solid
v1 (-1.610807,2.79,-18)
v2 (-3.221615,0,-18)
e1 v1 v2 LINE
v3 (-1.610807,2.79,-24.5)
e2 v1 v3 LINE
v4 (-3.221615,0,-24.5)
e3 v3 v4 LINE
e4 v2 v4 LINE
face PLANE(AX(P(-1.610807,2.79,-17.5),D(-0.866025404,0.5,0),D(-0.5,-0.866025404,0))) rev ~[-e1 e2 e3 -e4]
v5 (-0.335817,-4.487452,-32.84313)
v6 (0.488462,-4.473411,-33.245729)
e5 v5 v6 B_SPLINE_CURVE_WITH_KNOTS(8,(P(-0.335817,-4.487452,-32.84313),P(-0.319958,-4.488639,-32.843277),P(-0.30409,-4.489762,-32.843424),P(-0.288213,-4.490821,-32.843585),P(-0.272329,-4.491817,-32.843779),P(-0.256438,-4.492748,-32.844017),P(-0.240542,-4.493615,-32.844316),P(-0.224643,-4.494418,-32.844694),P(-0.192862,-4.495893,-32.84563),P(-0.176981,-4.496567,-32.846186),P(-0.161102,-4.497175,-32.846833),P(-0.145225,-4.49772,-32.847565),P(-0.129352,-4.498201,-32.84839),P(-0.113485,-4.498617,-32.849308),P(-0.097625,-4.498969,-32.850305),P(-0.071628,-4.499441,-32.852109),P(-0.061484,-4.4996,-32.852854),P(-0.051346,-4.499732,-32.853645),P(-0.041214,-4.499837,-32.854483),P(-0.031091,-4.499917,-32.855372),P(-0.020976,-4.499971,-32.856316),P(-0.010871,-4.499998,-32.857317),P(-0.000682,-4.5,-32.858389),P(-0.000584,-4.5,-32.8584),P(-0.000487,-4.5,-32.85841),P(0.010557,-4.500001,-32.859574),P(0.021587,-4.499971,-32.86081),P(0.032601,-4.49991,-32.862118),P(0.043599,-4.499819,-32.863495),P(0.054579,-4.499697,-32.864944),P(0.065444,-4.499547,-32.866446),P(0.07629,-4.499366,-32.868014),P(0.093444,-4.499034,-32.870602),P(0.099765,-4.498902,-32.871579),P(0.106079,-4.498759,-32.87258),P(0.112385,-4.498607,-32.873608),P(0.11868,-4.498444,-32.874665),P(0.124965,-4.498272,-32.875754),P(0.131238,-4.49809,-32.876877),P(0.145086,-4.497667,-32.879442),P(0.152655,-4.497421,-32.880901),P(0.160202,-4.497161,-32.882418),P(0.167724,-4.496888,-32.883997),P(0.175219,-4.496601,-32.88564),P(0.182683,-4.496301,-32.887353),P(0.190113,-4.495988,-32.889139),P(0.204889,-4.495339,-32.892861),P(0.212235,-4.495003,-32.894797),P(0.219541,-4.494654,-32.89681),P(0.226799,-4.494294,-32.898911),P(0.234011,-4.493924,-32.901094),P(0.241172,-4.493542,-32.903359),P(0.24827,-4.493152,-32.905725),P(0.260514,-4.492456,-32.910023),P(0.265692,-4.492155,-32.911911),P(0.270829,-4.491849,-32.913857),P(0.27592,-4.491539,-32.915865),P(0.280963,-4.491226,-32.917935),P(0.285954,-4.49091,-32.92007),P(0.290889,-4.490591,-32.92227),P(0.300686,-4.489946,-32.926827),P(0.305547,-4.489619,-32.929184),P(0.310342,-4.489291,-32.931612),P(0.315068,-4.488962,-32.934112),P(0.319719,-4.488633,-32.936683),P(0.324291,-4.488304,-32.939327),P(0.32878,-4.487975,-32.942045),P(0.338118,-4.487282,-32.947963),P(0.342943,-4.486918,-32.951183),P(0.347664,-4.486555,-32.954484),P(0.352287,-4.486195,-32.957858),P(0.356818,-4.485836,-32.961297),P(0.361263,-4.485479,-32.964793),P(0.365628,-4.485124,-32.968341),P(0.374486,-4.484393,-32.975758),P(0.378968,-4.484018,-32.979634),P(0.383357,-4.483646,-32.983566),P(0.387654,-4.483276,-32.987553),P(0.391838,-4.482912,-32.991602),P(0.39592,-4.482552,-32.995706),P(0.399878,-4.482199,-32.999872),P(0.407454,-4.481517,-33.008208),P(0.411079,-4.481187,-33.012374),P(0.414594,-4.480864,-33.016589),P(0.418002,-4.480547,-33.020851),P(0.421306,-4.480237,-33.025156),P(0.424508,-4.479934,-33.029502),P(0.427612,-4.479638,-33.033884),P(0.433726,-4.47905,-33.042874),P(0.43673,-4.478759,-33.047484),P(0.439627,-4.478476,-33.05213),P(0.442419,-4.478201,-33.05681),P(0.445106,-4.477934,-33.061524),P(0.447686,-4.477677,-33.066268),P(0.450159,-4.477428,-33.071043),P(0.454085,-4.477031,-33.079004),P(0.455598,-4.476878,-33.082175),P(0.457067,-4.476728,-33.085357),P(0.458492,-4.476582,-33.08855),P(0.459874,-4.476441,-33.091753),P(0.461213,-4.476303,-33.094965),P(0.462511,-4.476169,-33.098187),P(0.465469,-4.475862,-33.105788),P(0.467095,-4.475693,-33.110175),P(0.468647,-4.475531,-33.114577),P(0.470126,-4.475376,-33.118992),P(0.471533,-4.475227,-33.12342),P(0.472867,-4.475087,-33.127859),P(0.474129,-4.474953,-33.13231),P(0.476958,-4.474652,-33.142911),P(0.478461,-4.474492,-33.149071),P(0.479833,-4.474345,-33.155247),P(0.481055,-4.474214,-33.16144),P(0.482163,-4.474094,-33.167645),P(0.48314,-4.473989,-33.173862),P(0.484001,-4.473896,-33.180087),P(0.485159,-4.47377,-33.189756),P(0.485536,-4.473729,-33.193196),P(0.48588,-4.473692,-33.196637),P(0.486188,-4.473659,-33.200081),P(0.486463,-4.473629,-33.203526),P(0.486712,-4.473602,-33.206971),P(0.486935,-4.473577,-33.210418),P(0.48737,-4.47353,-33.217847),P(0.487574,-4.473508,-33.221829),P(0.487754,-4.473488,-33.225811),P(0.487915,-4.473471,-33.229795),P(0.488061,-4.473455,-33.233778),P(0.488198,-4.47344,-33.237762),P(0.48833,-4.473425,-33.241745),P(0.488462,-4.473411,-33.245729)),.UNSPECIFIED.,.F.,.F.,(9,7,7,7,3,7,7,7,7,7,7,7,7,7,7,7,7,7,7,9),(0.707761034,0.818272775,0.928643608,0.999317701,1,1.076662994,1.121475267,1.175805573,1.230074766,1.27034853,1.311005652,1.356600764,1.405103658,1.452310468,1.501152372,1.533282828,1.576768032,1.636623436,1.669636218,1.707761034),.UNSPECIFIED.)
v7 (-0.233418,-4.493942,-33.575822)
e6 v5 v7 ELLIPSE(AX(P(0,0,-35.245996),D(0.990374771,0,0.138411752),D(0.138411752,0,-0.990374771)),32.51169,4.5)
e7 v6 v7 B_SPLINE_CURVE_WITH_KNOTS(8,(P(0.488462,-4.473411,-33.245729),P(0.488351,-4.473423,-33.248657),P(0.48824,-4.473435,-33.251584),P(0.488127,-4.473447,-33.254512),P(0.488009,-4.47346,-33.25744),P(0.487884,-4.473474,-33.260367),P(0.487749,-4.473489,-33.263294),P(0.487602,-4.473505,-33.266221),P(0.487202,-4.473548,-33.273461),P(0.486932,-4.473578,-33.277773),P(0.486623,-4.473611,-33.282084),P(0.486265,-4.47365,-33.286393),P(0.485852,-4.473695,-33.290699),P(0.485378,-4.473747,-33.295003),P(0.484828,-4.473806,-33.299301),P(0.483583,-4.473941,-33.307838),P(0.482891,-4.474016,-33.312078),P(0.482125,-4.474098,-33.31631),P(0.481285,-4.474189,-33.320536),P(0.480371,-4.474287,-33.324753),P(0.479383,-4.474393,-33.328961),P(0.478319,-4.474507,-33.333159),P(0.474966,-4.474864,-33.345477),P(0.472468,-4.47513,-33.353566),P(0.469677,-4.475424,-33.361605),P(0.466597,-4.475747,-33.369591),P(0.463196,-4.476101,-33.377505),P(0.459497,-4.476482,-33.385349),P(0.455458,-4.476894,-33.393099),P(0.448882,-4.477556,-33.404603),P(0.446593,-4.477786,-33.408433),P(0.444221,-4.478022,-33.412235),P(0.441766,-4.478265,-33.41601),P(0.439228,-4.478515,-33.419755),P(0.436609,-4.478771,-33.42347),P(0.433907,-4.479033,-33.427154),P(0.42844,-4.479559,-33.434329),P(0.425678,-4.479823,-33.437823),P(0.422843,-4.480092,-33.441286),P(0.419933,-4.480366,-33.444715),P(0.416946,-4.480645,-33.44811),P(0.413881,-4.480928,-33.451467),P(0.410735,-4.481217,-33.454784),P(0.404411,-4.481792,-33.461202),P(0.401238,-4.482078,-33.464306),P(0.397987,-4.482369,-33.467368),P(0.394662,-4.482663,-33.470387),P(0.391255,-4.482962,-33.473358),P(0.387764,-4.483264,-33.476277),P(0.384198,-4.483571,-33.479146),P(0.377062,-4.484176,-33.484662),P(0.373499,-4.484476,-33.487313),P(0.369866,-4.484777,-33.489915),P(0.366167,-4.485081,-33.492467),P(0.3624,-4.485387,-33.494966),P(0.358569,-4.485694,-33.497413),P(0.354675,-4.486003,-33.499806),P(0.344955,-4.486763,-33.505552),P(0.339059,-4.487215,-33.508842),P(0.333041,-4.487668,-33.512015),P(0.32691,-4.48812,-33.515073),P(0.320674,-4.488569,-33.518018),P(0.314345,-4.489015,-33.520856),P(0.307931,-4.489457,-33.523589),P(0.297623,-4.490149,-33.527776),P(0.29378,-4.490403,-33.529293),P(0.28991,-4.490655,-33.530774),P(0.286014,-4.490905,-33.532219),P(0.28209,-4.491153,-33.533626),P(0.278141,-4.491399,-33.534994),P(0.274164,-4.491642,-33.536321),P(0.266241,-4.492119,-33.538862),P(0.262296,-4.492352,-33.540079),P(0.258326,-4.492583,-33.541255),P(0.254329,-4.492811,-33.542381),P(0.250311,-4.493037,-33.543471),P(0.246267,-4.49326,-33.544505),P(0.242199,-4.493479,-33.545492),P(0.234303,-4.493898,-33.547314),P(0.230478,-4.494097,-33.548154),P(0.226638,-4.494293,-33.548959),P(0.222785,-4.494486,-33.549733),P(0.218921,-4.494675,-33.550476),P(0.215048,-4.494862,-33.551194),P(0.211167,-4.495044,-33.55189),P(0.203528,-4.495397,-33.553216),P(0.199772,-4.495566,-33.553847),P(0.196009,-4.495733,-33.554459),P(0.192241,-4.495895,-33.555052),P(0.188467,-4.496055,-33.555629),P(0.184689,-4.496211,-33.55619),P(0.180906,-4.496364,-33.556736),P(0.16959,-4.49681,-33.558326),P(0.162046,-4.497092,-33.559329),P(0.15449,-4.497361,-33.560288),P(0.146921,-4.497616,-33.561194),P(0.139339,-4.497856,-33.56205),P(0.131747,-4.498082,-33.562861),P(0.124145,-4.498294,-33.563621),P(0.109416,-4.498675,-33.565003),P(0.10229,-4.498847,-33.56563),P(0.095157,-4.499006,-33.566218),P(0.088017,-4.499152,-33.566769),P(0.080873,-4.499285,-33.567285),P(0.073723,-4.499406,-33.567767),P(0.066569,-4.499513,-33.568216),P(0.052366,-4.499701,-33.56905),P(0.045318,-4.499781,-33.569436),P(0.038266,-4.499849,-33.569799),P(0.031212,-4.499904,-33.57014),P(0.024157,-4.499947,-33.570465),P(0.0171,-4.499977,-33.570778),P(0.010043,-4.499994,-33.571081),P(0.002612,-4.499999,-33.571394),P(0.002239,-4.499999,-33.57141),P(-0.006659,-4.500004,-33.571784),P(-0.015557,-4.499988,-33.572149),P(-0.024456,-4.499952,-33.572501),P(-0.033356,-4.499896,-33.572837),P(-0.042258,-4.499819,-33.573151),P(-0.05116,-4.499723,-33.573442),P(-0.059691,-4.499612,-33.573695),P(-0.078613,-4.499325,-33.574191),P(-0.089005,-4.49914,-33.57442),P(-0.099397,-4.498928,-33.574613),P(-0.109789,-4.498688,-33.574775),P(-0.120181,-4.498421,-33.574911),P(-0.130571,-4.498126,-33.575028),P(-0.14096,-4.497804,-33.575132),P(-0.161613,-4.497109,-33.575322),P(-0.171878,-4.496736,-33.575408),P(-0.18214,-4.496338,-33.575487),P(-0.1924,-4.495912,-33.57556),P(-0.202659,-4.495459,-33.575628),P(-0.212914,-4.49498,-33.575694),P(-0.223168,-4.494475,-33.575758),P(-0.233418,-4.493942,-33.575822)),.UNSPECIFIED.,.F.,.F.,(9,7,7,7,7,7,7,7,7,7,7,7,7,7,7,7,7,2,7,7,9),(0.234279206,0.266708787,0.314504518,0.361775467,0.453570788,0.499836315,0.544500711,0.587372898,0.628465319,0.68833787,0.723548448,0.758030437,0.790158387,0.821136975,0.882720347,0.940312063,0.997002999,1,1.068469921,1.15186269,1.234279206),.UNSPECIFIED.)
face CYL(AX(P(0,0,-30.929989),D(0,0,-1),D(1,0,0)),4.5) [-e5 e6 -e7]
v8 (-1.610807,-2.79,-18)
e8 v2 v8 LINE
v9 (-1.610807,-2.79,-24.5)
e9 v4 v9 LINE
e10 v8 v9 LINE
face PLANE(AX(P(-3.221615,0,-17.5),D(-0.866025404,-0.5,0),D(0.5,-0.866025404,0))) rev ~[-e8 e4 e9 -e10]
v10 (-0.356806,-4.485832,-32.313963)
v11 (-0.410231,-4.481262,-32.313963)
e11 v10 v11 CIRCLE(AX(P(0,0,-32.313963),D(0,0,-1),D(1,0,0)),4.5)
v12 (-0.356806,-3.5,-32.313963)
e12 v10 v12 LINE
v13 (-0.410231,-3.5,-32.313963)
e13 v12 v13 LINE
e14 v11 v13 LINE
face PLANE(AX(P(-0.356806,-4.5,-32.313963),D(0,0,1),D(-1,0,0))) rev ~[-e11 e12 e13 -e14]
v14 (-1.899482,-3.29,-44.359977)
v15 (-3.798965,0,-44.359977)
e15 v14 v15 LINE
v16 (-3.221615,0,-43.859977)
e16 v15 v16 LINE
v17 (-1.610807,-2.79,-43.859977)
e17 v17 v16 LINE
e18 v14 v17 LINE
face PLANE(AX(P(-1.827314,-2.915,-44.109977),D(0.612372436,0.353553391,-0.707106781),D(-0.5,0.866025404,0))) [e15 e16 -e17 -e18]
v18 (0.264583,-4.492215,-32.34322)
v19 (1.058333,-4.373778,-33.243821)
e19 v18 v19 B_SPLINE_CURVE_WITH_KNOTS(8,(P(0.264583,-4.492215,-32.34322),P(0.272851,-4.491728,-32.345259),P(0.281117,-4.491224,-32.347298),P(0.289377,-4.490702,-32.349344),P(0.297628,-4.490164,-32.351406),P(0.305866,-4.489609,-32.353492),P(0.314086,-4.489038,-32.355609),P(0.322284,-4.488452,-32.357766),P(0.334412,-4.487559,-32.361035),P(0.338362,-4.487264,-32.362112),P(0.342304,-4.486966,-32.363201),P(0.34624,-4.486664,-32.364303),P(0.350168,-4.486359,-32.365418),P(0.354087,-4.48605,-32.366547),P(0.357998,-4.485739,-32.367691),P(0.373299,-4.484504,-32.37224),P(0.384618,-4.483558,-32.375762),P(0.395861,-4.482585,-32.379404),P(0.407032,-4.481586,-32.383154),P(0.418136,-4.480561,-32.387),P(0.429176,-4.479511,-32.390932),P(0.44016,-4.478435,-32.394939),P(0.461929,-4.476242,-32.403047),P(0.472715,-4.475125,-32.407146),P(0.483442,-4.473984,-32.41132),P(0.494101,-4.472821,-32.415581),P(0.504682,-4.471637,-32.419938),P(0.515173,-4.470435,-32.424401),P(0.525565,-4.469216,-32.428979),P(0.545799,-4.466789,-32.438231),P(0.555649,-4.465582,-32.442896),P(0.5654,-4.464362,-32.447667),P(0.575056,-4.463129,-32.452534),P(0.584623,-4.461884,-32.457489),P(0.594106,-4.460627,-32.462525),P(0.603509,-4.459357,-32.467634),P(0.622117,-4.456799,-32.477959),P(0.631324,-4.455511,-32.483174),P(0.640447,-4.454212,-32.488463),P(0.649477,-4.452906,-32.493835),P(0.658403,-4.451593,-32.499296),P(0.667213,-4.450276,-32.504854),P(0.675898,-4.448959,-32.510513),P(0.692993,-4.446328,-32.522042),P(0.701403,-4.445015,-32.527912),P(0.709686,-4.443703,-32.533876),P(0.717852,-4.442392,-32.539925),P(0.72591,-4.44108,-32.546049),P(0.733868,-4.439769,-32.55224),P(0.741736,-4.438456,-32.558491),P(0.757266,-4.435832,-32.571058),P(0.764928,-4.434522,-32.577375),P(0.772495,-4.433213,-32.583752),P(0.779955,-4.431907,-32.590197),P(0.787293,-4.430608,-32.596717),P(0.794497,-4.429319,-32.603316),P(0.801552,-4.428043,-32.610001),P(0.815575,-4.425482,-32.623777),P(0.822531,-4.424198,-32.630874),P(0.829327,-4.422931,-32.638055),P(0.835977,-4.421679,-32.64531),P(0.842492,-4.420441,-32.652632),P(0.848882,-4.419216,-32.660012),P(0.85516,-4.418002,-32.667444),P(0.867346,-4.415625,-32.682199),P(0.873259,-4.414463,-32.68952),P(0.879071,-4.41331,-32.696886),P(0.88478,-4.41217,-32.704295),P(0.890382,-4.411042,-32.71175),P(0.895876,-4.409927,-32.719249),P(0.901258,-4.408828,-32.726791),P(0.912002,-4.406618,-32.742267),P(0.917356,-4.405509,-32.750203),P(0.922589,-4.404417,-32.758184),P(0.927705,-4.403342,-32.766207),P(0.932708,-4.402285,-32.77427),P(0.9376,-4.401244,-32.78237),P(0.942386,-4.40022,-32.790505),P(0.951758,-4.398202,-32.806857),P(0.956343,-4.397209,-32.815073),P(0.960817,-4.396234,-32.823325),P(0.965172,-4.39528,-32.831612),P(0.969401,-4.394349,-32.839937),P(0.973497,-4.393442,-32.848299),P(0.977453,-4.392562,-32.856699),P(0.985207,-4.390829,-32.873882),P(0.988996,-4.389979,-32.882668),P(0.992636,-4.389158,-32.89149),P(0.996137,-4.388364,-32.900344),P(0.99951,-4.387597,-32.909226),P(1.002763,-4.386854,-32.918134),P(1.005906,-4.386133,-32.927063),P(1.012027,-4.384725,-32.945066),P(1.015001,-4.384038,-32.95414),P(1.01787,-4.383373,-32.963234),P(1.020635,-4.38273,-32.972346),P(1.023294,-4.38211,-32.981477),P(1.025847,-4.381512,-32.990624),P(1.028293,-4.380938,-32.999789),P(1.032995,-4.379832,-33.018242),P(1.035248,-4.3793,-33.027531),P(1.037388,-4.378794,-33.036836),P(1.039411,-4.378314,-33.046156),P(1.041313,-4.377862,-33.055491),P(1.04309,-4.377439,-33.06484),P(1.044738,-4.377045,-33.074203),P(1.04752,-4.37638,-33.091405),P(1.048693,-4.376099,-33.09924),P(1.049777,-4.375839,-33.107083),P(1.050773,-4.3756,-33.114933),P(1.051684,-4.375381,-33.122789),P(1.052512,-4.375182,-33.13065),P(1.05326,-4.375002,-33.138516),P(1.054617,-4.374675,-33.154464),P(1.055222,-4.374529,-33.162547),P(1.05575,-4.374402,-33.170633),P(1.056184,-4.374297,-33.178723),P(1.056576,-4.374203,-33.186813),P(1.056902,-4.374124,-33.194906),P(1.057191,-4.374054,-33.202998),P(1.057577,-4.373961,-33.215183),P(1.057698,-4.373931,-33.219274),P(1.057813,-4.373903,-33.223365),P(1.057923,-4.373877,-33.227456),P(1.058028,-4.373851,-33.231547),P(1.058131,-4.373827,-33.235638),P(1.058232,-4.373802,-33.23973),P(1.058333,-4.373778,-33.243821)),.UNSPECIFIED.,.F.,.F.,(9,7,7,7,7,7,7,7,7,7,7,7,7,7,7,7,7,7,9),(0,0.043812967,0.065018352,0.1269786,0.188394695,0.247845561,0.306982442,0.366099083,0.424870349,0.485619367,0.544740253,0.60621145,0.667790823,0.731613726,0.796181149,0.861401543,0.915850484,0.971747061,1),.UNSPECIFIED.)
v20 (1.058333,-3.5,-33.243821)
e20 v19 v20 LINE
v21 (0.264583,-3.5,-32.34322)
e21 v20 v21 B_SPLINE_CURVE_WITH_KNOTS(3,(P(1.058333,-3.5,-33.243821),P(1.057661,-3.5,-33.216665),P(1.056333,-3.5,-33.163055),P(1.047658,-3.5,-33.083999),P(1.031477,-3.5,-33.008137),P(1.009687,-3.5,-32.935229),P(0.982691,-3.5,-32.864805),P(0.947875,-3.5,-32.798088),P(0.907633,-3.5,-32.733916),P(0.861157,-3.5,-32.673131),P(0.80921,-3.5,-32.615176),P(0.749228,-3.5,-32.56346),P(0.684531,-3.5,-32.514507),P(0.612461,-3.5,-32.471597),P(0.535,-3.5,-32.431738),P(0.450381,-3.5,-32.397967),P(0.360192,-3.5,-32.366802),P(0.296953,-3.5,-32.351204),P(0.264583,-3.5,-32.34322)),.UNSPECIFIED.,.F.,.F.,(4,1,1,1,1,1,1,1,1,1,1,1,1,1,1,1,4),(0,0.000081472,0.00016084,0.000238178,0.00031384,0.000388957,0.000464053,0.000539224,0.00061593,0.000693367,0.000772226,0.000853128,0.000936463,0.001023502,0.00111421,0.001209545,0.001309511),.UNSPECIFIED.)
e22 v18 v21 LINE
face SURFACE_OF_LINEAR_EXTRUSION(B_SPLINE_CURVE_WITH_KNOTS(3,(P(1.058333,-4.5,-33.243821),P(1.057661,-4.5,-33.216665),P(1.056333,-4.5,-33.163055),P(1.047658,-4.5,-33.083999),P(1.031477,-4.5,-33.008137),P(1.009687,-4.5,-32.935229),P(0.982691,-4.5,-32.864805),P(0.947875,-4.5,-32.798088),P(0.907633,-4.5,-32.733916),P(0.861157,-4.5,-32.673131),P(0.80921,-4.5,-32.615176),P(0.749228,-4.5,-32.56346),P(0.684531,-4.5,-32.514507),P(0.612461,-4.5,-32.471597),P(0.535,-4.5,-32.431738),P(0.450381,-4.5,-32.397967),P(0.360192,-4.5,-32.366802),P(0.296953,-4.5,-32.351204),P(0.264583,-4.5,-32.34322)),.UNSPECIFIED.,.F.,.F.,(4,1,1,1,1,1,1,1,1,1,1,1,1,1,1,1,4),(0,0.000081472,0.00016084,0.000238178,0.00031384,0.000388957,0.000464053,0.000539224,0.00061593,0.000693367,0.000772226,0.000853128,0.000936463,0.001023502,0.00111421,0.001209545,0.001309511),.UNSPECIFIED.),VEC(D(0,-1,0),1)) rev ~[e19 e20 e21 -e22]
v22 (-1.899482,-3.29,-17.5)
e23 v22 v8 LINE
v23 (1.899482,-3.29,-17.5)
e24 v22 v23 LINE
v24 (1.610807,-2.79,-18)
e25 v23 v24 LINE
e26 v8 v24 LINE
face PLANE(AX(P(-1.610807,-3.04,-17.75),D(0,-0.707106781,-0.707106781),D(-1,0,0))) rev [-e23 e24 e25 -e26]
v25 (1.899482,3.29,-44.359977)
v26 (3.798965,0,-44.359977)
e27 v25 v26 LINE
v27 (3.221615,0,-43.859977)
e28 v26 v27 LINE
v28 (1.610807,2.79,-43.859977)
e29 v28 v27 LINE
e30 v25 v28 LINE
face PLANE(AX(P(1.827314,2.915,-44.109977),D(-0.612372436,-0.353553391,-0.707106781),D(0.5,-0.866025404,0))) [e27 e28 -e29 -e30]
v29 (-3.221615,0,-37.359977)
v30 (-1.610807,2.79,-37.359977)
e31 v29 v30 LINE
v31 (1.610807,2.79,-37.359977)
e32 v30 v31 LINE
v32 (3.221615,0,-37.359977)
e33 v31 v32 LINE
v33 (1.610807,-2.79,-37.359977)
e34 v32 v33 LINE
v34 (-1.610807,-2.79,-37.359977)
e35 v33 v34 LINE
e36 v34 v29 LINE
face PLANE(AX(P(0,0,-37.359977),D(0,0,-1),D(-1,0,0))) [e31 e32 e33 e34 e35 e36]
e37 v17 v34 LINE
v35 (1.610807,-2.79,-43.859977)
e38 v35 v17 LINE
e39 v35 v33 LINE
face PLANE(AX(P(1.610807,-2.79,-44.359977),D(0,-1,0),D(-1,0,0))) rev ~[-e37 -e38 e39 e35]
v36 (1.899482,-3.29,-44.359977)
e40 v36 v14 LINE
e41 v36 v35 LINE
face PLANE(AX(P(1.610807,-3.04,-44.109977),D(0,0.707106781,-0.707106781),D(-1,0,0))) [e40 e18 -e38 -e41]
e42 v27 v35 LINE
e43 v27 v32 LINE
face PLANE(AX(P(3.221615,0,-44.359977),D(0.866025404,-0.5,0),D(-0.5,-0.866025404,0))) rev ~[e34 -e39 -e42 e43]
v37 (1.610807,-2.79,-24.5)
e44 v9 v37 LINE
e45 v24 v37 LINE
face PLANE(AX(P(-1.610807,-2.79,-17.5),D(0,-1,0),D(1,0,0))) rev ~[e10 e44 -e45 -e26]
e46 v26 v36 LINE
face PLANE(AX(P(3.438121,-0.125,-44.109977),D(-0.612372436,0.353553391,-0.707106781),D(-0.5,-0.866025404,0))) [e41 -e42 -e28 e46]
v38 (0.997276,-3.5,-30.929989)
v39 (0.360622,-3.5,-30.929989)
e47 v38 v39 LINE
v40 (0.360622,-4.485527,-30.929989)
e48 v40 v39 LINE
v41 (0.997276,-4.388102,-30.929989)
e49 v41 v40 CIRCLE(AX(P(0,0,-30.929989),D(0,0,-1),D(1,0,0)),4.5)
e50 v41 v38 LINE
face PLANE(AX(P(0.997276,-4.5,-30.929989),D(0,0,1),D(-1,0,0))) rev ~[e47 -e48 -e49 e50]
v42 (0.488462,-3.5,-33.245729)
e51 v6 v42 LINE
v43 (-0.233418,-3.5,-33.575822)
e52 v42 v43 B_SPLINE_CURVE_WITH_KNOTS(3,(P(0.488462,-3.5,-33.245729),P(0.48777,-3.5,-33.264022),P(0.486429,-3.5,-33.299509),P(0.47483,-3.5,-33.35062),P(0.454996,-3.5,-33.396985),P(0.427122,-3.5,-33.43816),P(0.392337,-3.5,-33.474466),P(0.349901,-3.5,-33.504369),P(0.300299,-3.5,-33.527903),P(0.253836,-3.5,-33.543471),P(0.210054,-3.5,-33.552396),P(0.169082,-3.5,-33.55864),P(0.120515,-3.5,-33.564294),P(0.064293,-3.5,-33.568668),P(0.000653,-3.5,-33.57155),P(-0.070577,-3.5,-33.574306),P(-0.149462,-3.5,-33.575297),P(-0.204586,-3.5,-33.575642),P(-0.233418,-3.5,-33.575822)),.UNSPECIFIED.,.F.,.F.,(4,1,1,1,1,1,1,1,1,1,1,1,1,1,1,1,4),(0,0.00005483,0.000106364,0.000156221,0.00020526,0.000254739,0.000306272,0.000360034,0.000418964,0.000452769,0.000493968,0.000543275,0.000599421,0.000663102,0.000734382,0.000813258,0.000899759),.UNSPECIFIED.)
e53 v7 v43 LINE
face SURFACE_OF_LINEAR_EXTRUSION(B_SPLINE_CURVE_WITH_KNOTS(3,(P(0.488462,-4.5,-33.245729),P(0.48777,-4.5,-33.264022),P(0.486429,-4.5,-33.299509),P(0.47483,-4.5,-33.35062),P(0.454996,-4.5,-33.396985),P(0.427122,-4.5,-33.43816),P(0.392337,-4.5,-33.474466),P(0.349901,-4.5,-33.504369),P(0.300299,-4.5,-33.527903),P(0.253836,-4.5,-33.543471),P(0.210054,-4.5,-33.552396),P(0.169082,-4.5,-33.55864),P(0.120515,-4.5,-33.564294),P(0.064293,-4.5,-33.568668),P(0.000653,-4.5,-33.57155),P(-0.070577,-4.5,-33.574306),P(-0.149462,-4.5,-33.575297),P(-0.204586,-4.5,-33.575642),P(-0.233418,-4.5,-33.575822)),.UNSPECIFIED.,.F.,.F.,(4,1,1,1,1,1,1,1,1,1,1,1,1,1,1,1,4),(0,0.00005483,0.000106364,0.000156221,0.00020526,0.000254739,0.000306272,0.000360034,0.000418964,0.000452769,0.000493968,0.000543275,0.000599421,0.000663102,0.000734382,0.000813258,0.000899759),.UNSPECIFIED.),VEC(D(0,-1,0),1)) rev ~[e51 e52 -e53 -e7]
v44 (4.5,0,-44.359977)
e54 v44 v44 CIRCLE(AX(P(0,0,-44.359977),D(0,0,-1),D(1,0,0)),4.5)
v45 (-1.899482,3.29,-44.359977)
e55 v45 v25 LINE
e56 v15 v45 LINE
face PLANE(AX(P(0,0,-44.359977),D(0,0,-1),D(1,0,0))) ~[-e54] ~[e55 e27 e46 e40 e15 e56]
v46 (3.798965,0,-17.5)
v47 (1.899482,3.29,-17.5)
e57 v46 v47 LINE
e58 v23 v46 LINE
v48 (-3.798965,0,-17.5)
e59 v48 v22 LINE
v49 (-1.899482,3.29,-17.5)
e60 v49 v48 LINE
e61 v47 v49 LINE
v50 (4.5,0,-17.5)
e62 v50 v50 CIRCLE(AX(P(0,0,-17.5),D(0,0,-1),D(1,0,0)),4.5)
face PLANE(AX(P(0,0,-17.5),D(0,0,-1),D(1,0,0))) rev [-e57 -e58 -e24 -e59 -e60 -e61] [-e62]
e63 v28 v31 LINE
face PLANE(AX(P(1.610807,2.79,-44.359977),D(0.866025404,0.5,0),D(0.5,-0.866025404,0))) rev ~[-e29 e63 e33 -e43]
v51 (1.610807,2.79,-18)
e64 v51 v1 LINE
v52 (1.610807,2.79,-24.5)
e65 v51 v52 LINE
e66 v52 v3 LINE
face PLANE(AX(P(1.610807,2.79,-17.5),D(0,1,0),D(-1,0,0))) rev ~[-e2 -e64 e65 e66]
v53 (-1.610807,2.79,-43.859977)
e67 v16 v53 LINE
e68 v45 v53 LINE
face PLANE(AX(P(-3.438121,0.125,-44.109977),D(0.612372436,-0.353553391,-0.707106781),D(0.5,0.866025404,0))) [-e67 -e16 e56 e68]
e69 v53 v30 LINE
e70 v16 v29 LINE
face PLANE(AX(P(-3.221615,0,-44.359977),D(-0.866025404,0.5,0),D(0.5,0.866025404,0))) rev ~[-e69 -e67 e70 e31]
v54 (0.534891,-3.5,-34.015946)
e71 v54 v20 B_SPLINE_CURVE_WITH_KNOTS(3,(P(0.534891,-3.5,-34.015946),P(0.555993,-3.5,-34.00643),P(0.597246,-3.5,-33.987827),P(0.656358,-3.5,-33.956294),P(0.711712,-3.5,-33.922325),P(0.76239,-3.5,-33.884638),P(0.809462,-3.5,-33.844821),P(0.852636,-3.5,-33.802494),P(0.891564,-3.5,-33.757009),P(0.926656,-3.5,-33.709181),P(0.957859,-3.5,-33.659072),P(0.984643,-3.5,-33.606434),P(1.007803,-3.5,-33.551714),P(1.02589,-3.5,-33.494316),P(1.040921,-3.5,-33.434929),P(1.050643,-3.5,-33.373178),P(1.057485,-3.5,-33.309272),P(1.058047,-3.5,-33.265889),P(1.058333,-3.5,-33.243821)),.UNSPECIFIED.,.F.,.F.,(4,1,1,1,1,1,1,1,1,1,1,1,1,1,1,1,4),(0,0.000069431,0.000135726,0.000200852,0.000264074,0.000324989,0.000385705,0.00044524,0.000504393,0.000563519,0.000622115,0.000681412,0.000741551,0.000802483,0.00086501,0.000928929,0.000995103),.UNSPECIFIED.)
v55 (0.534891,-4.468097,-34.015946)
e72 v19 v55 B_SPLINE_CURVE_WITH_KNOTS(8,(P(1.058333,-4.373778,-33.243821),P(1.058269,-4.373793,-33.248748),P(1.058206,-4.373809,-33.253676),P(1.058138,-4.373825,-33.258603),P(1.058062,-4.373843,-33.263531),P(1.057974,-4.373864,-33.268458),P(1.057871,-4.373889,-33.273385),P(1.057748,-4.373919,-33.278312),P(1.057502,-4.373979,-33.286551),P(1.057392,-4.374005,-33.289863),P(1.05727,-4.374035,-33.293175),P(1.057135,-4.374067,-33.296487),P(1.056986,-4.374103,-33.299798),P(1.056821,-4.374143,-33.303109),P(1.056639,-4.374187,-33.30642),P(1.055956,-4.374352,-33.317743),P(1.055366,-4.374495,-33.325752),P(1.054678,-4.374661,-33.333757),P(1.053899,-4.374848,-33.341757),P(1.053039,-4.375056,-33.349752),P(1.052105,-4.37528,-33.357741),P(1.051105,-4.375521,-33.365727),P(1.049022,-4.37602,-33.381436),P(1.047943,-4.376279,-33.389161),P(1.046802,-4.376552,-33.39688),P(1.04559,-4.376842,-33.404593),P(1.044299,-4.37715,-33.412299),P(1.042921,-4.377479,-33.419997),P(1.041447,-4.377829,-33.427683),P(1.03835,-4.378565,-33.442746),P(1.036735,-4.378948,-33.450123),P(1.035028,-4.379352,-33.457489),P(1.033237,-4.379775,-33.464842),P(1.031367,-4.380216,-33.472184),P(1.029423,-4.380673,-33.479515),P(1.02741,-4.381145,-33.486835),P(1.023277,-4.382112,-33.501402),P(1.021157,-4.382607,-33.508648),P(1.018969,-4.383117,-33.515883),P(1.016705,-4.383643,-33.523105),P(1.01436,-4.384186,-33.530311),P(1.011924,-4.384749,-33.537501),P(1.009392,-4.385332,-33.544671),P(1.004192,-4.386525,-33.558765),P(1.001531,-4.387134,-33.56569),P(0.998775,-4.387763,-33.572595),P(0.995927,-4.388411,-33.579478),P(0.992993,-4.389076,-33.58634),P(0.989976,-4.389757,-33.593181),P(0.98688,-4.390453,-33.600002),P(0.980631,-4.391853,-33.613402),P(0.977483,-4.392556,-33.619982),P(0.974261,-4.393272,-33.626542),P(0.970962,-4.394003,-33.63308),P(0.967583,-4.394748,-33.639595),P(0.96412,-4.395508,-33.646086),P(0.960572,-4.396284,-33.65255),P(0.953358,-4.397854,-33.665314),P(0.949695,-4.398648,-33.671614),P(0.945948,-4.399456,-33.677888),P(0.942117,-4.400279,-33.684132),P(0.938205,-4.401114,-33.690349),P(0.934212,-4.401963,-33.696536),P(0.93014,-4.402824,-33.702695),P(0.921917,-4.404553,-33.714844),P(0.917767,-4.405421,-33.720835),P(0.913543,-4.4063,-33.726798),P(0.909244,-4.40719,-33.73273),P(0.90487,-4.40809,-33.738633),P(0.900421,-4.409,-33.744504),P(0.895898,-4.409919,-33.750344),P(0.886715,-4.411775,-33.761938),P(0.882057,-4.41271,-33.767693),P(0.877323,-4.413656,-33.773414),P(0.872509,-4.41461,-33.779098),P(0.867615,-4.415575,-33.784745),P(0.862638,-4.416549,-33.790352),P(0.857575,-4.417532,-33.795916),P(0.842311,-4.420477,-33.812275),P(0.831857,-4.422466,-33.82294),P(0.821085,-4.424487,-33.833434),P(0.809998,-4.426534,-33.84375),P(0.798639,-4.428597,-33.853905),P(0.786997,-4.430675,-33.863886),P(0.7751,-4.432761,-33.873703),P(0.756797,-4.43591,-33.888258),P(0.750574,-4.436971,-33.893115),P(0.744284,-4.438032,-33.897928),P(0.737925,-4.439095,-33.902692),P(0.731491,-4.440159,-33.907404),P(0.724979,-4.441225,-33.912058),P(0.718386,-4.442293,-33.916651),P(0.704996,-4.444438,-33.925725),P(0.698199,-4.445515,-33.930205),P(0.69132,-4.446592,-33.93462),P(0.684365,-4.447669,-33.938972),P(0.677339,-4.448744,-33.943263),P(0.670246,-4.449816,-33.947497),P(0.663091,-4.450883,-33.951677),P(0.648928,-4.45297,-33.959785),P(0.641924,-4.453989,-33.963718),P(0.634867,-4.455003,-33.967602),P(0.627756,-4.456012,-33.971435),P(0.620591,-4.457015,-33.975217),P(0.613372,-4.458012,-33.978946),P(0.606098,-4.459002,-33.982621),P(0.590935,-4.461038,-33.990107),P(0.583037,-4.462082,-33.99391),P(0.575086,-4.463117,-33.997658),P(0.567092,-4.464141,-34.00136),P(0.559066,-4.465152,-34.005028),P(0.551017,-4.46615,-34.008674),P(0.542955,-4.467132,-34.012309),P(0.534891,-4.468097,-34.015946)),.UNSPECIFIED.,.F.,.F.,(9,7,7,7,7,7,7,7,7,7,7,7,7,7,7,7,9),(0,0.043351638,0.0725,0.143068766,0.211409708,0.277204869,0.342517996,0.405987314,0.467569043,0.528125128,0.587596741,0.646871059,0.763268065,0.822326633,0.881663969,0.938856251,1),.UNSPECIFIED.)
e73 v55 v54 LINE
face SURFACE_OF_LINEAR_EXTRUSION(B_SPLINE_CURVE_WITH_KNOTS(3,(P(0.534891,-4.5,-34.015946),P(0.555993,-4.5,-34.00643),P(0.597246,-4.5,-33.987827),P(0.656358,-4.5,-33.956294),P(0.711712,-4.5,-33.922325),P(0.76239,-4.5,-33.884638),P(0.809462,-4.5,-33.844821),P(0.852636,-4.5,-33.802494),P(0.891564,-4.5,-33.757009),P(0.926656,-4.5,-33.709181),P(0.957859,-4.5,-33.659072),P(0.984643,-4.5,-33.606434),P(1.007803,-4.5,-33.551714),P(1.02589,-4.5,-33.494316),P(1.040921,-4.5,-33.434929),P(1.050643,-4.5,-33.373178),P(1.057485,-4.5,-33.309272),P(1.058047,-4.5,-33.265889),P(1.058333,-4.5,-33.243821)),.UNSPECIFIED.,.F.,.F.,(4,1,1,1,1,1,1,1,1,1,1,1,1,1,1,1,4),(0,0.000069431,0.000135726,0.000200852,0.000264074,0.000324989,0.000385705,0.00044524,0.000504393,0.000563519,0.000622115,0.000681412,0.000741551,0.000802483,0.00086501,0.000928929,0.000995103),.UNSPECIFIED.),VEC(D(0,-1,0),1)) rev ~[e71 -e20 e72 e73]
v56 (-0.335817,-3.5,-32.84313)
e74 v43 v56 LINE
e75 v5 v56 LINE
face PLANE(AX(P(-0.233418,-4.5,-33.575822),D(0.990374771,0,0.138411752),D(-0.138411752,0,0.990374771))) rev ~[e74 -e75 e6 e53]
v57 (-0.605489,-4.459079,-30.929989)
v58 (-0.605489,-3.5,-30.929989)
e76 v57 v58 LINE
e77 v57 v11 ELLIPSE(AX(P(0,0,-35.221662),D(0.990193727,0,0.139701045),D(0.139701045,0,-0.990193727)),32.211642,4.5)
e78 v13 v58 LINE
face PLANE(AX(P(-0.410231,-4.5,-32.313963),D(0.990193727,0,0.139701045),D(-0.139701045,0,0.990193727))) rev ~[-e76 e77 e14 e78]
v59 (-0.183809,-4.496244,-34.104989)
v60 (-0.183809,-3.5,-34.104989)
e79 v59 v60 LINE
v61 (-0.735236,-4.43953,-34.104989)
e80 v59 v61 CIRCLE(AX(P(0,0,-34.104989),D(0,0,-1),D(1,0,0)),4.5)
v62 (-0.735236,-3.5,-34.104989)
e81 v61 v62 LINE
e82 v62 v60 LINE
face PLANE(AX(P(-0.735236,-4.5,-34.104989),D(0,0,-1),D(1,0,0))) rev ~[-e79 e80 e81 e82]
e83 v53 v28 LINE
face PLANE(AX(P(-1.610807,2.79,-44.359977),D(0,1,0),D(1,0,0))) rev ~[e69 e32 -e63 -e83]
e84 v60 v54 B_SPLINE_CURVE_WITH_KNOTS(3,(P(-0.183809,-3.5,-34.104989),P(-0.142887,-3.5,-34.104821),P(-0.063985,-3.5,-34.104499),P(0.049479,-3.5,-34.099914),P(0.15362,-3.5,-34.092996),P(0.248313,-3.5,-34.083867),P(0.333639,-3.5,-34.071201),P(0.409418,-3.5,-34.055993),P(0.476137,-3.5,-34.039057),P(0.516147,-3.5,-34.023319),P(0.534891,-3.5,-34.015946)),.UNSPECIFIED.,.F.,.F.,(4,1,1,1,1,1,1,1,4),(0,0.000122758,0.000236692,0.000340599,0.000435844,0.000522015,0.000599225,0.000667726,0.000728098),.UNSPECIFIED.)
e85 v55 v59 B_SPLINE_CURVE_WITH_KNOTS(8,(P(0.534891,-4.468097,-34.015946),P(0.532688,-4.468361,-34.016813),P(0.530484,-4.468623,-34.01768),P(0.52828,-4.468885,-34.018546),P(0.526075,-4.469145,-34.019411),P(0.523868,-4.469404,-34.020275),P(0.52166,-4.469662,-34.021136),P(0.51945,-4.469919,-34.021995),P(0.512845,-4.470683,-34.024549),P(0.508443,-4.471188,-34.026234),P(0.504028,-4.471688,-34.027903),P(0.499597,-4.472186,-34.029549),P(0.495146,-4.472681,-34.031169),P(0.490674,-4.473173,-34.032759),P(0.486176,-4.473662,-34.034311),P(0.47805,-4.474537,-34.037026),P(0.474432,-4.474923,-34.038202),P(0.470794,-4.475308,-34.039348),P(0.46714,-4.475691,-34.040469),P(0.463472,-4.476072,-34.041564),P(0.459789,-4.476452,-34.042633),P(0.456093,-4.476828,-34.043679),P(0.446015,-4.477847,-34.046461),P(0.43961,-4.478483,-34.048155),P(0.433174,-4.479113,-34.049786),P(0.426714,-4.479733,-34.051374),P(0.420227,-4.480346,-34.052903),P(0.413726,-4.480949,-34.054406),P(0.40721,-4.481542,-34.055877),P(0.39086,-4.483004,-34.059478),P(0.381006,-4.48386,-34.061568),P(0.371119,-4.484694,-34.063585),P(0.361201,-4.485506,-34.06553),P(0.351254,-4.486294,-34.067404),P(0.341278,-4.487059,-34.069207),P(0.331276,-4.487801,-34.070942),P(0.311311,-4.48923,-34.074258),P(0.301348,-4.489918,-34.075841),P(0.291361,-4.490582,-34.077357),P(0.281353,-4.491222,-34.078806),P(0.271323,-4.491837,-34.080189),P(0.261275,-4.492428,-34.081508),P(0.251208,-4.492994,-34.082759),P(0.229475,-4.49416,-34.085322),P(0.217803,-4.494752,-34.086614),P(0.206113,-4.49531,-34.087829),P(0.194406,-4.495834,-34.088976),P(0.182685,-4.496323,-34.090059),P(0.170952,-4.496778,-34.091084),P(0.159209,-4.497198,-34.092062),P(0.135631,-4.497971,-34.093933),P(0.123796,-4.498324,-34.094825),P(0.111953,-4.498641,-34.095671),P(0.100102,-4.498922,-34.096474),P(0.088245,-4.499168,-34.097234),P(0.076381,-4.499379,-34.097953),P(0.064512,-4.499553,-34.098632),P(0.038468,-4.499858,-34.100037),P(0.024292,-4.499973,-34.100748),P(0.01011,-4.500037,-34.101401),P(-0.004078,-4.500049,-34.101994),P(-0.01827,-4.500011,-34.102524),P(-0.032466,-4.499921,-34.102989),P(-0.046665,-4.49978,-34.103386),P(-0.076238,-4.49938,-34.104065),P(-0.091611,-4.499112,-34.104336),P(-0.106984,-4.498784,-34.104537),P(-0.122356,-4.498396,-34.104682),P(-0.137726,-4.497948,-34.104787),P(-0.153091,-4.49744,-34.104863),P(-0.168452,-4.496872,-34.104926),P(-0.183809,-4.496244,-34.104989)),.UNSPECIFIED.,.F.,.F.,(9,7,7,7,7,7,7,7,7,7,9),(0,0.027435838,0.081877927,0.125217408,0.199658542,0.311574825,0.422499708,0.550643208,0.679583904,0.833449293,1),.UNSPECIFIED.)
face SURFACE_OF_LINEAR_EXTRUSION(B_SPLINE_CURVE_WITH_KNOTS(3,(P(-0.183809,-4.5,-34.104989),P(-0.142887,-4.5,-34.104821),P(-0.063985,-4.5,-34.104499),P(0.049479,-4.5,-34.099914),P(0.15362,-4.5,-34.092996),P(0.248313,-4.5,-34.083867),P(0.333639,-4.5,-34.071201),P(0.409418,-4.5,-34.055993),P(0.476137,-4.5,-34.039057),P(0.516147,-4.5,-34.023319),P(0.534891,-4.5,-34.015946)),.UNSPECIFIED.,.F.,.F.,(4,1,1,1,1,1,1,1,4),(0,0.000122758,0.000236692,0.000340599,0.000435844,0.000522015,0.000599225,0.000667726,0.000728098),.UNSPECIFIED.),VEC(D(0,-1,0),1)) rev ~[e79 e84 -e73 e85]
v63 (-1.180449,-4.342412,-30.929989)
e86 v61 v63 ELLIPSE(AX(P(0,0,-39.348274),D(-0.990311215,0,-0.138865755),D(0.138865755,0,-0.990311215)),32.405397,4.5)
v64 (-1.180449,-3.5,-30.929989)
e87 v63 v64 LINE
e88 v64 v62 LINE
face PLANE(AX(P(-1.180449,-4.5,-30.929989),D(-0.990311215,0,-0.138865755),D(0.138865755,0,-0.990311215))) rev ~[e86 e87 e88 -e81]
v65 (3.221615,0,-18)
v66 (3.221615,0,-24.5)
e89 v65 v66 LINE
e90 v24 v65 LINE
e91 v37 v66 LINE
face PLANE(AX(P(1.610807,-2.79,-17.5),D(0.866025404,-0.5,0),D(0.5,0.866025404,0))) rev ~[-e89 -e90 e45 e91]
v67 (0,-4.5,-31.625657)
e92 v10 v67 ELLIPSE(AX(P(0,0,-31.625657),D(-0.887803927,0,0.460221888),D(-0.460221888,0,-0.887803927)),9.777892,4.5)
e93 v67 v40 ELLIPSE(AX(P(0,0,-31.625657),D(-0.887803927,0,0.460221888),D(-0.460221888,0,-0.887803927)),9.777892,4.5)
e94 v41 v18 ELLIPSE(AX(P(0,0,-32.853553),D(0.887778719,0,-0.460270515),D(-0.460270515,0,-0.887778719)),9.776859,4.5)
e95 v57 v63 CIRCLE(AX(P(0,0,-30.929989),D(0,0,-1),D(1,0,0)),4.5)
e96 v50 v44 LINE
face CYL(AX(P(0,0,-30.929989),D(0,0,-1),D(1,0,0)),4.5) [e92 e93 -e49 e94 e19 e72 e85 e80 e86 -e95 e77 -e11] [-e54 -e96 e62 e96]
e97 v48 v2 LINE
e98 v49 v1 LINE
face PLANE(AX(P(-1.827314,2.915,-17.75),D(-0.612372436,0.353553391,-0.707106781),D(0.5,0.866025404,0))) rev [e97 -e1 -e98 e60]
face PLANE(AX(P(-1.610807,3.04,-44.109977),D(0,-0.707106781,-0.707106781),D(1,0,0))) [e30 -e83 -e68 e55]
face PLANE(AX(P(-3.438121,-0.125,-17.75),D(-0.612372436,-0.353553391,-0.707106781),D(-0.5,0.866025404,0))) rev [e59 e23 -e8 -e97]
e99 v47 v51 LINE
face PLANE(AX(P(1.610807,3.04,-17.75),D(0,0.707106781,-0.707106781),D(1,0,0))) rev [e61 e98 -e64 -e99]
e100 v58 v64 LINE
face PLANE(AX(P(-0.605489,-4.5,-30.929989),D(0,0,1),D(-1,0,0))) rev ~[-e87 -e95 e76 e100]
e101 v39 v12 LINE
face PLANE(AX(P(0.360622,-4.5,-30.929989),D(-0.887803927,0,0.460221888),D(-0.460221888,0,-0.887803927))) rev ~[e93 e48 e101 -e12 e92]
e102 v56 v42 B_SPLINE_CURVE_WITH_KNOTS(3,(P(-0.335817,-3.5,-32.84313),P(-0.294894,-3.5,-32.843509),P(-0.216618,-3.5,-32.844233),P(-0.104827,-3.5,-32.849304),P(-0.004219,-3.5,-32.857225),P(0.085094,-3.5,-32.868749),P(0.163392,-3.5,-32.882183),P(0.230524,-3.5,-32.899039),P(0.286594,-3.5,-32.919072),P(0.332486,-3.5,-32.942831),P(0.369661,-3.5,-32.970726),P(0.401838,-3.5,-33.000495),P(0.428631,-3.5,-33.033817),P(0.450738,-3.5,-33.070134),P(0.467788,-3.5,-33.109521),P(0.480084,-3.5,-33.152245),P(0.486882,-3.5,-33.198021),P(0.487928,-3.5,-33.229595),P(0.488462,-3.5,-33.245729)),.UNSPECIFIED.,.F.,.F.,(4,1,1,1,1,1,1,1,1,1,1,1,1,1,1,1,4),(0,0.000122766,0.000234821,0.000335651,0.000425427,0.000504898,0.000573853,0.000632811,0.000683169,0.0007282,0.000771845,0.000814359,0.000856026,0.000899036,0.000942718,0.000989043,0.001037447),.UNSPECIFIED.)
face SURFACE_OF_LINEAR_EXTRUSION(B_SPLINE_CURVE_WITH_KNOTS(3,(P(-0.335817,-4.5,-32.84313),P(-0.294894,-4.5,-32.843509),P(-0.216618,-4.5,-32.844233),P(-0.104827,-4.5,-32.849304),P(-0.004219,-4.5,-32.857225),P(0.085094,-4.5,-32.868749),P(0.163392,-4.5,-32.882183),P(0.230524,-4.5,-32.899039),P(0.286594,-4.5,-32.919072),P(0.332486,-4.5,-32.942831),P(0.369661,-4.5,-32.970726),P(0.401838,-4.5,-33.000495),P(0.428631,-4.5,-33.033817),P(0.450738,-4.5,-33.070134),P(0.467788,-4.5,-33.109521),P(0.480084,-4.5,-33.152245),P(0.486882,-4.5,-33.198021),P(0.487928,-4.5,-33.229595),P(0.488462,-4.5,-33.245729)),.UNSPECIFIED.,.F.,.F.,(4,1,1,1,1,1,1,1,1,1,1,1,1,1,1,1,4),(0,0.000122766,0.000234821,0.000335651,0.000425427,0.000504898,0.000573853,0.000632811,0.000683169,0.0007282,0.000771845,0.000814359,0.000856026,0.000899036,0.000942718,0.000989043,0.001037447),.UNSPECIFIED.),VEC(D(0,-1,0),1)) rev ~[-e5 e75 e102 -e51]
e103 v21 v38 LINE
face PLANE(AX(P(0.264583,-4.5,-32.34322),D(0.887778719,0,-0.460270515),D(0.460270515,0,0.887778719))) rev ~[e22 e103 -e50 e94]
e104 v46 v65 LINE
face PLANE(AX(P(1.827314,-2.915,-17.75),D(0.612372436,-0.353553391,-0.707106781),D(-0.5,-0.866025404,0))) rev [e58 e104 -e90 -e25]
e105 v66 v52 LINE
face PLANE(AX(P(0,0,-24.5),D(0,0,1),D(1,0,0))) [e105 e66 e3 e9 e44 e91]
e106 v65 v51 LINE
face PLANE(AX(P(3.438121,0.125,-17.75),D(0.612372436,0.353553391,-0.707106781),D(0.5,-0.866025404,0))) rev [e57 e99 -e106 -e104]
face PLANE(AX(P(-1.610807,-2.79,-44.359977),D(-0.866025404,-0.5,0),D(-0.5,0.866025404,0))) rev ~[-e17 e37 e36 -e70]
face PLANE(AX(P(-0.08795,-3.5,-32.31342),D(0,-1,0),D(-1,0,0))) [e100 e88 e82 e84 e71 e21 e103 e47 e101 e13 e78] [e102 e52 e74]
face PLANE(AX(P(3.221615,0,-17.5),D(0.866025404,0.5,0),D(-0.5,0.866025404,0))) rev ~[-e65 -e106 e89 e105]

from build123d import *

# Parameters (mm, degrees)
SKETCH1_W          = 4.5
SKETCH1_H          = 26.85997733
CUT_EXTRUDE1_DEPTH = 7
CUT_EXTRUDE2_DEPTH = 7
CHAMFER1_SIZE      = 0.5
CUT_EXTRUDE3_DEPTH = 1


with BuildPart() as part:
    # Sketch1 → Revolve-Thin1 (revolve)
    with BuildSketch(Plane(origin=(0, 0, 0), x_dir=(1, 0, 0), z_dir=(0, 1, 0))):
        with Locations((2.25, 30.929988665)):
            Rectangle(SKETCH1_W, SKETCH1_H)
    revolve(axis=Axis((0, 0, 0), (0, 0, -1)))

    # Sketch2 → Cut-Extrude1 (cut)
    with BuildSketch(Plane.XY.offset(-17.5)):
        Polygon((1.610807251, 2.79), (-1.610807251, 2.79), (-3.221614502, 0), (-1.610807251, -2.79), (1.610807251, -2.79), (3.221614502, 0), align=None)
    extrude(amount=-CUT_EXTRUDE1_DEPTH, mode=Mode.SUBTRACT)

    # Sketch3 → Cut-Extrude2 (cut)
    with BuildSketch(Plane(origin=(0, 0, -44.35997733), x_dir=(-1, 0, 0), z_dir=(0, 0, -1))):
        Polygon((1.610807251, 2.79), (-1.610807251, 2.79), (-3.221614502, 0), (-1.610807251, -2.79), (1.610807251, -2.79), (3.221614502, 0), align=None)
    extrude(amount=-CUT_EXTRUDE2_DEPTH, mode=Mode.SUBTRACT)

    # Chamfer1
    chamfer1_edges = [part.edges().sort_by_distance(p)[0] for p in [
        (2.416210877, 1.395, -17.5),
        (0, 2.79, -17.5),
        (-2.416210877, 1.395, -17.5),
        (-2.416210877, -1.395, -17.5),
        (0, -2.79, -17.5),
        (2.416210877, -1.395, -17.5),
        (-2.416210877, 1.395, -44.35997733),
        (0, 2.79, -44.35997733),
        (2.416210877, 1.395, -44.35997733),
        (2.416210877, -1.395, -44.35997733),
        (0, -2.79, -44.35997733),
        (-2.416210877, -1.395, -44.35997733),
    ]]
    chamfer(chamfer1_edges, length=CHAMFER1_SIZE)

    # Sketch4 → Cut-Extrude3 (cut)
    with BuildSketch(Plane(origin=(0, -4.5, 0), x_dir=(1, 0, 0), z_dir=(0, 1, 0))):
        with BuildLine():
            Line((-0.735236378, 34.104988665), (-0.183809095, 34.104988665))
            add(Edge.make_bspline(
                [(-0.183809095, 34.104988665), (-0.142887229, 34.104821435), (-0.063984952, 34.104498996), (0.049479088, 34.099913909), (0.153619775, 34.092996425), (0.248313279, 34.083867435), (0.333638661, 34.071201473), (0.40941848, 34.055993448), (0.47613676, 34.039057193), (0.516147477, 34.02331892), (0.534890825, 34.015946197)],
                knots=[0, 0, 0, 0, 0.000122758, 0.000236692, 0.000340599, 0.000435844, 0.000522015, 0.000599225, 0.000667726, 0.000728098, 0.000728098, 0.000728098, 0.000728098], degree=3))
            add(Edge.make_bspline(
                [(0.534890825, 34.015946197), (0.555993425, 34.006429933), (0.597245667, 33.987827142), (0.656357727, 33.95629427), (0.711711569, 33.922324809), (0.762389804, 33.884637999), (0.8094619, 33.84482071), (0.852635966, 33.802494227), (0.891564361, 33.757008969), (0.926655631, 33.709180776), (0.957858636, 33.659071505), (0.984643202, 33.606434054), (1.007803352, 33.551714066), (1.025889509, 33.49431609), (1.04092128, 33.434929127), (1.050643284, 33.373178483), (1.057485172, 33.309272455), (1.058047365, 33.265888615), (1.058333333, 33.243820796)],
                knots=[0, 0, 0, 0, 6.9431e-05, 0.000135726, 0.000200852, 0.000264074, 0.000324989, 0.000385705, 0.00044524, 0.000504393, 0.000563519, 0.000622115, 0.000681412, 0.000741551, 0.000802483, 0.00086501, 0.000928929, 0.000995103, 0.000995103, 0.000995103, 0.000995103], degree=3))
            add(Edge.make_bspline(
                [(1.058333333, 33.243820796), (1.057660809, 33.216664827), (1.056333136, 33.163054546), (1.047657842, 33.083998974), (1.031477343, 33.008136947), (1.009687089, 32.93522949), (0.982690716, 32.864804536), (0.947875359, 32.798087533), (0.907633136, 32.733916018), (0.861157476, 32.67313132), (0.809209736, 32.61517584), (0.749228296, 32.563460322), (0.684531415, 32.51450675), (0.612461254, 32.471597247), (0.53499992, 32.431738139), (0.45038063, 32.397967081), (0.360191554, 32.366801607), (0.296952619, 32.351203721), (0.264583333, 32.343219835)],
                knots=[0, 0, 0, 0, 8.1472e-05, 0.00016084, 0.000238178, 0.00031384, 0.000388957, 0.000464053, 0.000539224, 0.00061593, 0.000693367, 0.000772226, 0.000853128, 0.000936463, 0.001023502, 0.00111421, 0.001209545, 0.001309511, 0.001309511, 0.001309511, 0.001309511], degree=3))
            Line((0.264583333, 32.343219835), (0.997275641, 30.929988665))
            Line((0.997275641, 30.929988665), (0.360621995, 30.929988665))
            Line((0.360621995, 30.929988665), (-0.356805889, 32.313963024))
            Line((-0.356805889, 32.313963024), (-0.41023137, 32.313963024))
            Line((-0.41023137, 32.313963024), (-0.605488782, 30.929988665))
            Line((-0.605488782, 30.929988665), (-1.180448718, 30.929988665))
            Line((-1.180448718, 30.929988665), (-0.735236378, 34.104988665))
        make_face()
        with BuildLine():
            add(Edge.make_bspline(
                [(-0.335817308, 32.843129691), (-0.294894066, 32.843508532), (-0.2166182, 32.84423316), (-0.104827079, 32.849303715), (-0.004219131, 32.857224722), (0.08509361, 32.868749131), (0.16339231, 32.882182886), (0.230523904, 32.899038904), (0.286593934, 32.919072013), (0.332485643, 32.942831056), (0.369661123, 32.970726112), (0.40183809, 33.00049459), (0.428631207, 33.033817084), (0.450737928, 33.070134204), (0.467788114, 33.109521218), (0.480083934, 33.152244969), (0.486882391, 33.198020591), (0.487927508, 33.229595041), (0.488461538, 33.245728849)],
                knots=[0, 0, 0, 0, 0.000122766, 0.000234821, 0.000335651, 0.000425427, 0.000504898, 0.000573853, 0.000632811, 0.000683169, 0.0007282, 0.000771845, 0.000814359, 0.000856026, 0.000899036, 0.000942718, 0.000989043, 0.001037447, 0.001037447, 0.001037447, 0.001037447], degree=3))
            add(Edge.make_bspline(
                [(0.488461538, 33.245728849), (0.487770257, 33.264022258), (0.486429265, 33.299508964), (0.474830234, 33.35062006), (0.454996287, 33.39698474), (0.427122393, 33.438159863), (0.392337213, 33.474465682), (0.349901429, 33.504369125), (0.300298842, 33.527903238), (0.253836196, 33.543471254), (0.210053836, 33.552396101), (0.169082237, 33.558639509), (0.120514754, 33.564294057), (0.064292994, 33.568668304), (0.000652546, 33.571550346), (-0.070576621, 33.574306307), (-0.149461846, 33.575296954), (-0.204585812, 33.575641686), (-0.23341847, 33.575821998)],
                knots=[0, 0, 0, 0, 5.483e-05, 0.000106364, 0.000156221, 0.00020526, 0.000254739, 0.000306272, 0.000360034, 0.000418964, 0.000452769, 0.000493968, 0.000543275, 0.000599421, 0.000663102, 0.000734382, 0.000813258, 0.000899759, 0.000899759, 0.000899759, 0.000899759], degree=3))
            Line((-0.23341847, 33.575821998), (-0.335817308, 32.843129691))
        make_face(mode=Mode.SUBTRACT)
    extrude(amount=CUT_EXTRUDE3_DEPTH, mode=Mode.SUBTRACT)


solid = part.part
